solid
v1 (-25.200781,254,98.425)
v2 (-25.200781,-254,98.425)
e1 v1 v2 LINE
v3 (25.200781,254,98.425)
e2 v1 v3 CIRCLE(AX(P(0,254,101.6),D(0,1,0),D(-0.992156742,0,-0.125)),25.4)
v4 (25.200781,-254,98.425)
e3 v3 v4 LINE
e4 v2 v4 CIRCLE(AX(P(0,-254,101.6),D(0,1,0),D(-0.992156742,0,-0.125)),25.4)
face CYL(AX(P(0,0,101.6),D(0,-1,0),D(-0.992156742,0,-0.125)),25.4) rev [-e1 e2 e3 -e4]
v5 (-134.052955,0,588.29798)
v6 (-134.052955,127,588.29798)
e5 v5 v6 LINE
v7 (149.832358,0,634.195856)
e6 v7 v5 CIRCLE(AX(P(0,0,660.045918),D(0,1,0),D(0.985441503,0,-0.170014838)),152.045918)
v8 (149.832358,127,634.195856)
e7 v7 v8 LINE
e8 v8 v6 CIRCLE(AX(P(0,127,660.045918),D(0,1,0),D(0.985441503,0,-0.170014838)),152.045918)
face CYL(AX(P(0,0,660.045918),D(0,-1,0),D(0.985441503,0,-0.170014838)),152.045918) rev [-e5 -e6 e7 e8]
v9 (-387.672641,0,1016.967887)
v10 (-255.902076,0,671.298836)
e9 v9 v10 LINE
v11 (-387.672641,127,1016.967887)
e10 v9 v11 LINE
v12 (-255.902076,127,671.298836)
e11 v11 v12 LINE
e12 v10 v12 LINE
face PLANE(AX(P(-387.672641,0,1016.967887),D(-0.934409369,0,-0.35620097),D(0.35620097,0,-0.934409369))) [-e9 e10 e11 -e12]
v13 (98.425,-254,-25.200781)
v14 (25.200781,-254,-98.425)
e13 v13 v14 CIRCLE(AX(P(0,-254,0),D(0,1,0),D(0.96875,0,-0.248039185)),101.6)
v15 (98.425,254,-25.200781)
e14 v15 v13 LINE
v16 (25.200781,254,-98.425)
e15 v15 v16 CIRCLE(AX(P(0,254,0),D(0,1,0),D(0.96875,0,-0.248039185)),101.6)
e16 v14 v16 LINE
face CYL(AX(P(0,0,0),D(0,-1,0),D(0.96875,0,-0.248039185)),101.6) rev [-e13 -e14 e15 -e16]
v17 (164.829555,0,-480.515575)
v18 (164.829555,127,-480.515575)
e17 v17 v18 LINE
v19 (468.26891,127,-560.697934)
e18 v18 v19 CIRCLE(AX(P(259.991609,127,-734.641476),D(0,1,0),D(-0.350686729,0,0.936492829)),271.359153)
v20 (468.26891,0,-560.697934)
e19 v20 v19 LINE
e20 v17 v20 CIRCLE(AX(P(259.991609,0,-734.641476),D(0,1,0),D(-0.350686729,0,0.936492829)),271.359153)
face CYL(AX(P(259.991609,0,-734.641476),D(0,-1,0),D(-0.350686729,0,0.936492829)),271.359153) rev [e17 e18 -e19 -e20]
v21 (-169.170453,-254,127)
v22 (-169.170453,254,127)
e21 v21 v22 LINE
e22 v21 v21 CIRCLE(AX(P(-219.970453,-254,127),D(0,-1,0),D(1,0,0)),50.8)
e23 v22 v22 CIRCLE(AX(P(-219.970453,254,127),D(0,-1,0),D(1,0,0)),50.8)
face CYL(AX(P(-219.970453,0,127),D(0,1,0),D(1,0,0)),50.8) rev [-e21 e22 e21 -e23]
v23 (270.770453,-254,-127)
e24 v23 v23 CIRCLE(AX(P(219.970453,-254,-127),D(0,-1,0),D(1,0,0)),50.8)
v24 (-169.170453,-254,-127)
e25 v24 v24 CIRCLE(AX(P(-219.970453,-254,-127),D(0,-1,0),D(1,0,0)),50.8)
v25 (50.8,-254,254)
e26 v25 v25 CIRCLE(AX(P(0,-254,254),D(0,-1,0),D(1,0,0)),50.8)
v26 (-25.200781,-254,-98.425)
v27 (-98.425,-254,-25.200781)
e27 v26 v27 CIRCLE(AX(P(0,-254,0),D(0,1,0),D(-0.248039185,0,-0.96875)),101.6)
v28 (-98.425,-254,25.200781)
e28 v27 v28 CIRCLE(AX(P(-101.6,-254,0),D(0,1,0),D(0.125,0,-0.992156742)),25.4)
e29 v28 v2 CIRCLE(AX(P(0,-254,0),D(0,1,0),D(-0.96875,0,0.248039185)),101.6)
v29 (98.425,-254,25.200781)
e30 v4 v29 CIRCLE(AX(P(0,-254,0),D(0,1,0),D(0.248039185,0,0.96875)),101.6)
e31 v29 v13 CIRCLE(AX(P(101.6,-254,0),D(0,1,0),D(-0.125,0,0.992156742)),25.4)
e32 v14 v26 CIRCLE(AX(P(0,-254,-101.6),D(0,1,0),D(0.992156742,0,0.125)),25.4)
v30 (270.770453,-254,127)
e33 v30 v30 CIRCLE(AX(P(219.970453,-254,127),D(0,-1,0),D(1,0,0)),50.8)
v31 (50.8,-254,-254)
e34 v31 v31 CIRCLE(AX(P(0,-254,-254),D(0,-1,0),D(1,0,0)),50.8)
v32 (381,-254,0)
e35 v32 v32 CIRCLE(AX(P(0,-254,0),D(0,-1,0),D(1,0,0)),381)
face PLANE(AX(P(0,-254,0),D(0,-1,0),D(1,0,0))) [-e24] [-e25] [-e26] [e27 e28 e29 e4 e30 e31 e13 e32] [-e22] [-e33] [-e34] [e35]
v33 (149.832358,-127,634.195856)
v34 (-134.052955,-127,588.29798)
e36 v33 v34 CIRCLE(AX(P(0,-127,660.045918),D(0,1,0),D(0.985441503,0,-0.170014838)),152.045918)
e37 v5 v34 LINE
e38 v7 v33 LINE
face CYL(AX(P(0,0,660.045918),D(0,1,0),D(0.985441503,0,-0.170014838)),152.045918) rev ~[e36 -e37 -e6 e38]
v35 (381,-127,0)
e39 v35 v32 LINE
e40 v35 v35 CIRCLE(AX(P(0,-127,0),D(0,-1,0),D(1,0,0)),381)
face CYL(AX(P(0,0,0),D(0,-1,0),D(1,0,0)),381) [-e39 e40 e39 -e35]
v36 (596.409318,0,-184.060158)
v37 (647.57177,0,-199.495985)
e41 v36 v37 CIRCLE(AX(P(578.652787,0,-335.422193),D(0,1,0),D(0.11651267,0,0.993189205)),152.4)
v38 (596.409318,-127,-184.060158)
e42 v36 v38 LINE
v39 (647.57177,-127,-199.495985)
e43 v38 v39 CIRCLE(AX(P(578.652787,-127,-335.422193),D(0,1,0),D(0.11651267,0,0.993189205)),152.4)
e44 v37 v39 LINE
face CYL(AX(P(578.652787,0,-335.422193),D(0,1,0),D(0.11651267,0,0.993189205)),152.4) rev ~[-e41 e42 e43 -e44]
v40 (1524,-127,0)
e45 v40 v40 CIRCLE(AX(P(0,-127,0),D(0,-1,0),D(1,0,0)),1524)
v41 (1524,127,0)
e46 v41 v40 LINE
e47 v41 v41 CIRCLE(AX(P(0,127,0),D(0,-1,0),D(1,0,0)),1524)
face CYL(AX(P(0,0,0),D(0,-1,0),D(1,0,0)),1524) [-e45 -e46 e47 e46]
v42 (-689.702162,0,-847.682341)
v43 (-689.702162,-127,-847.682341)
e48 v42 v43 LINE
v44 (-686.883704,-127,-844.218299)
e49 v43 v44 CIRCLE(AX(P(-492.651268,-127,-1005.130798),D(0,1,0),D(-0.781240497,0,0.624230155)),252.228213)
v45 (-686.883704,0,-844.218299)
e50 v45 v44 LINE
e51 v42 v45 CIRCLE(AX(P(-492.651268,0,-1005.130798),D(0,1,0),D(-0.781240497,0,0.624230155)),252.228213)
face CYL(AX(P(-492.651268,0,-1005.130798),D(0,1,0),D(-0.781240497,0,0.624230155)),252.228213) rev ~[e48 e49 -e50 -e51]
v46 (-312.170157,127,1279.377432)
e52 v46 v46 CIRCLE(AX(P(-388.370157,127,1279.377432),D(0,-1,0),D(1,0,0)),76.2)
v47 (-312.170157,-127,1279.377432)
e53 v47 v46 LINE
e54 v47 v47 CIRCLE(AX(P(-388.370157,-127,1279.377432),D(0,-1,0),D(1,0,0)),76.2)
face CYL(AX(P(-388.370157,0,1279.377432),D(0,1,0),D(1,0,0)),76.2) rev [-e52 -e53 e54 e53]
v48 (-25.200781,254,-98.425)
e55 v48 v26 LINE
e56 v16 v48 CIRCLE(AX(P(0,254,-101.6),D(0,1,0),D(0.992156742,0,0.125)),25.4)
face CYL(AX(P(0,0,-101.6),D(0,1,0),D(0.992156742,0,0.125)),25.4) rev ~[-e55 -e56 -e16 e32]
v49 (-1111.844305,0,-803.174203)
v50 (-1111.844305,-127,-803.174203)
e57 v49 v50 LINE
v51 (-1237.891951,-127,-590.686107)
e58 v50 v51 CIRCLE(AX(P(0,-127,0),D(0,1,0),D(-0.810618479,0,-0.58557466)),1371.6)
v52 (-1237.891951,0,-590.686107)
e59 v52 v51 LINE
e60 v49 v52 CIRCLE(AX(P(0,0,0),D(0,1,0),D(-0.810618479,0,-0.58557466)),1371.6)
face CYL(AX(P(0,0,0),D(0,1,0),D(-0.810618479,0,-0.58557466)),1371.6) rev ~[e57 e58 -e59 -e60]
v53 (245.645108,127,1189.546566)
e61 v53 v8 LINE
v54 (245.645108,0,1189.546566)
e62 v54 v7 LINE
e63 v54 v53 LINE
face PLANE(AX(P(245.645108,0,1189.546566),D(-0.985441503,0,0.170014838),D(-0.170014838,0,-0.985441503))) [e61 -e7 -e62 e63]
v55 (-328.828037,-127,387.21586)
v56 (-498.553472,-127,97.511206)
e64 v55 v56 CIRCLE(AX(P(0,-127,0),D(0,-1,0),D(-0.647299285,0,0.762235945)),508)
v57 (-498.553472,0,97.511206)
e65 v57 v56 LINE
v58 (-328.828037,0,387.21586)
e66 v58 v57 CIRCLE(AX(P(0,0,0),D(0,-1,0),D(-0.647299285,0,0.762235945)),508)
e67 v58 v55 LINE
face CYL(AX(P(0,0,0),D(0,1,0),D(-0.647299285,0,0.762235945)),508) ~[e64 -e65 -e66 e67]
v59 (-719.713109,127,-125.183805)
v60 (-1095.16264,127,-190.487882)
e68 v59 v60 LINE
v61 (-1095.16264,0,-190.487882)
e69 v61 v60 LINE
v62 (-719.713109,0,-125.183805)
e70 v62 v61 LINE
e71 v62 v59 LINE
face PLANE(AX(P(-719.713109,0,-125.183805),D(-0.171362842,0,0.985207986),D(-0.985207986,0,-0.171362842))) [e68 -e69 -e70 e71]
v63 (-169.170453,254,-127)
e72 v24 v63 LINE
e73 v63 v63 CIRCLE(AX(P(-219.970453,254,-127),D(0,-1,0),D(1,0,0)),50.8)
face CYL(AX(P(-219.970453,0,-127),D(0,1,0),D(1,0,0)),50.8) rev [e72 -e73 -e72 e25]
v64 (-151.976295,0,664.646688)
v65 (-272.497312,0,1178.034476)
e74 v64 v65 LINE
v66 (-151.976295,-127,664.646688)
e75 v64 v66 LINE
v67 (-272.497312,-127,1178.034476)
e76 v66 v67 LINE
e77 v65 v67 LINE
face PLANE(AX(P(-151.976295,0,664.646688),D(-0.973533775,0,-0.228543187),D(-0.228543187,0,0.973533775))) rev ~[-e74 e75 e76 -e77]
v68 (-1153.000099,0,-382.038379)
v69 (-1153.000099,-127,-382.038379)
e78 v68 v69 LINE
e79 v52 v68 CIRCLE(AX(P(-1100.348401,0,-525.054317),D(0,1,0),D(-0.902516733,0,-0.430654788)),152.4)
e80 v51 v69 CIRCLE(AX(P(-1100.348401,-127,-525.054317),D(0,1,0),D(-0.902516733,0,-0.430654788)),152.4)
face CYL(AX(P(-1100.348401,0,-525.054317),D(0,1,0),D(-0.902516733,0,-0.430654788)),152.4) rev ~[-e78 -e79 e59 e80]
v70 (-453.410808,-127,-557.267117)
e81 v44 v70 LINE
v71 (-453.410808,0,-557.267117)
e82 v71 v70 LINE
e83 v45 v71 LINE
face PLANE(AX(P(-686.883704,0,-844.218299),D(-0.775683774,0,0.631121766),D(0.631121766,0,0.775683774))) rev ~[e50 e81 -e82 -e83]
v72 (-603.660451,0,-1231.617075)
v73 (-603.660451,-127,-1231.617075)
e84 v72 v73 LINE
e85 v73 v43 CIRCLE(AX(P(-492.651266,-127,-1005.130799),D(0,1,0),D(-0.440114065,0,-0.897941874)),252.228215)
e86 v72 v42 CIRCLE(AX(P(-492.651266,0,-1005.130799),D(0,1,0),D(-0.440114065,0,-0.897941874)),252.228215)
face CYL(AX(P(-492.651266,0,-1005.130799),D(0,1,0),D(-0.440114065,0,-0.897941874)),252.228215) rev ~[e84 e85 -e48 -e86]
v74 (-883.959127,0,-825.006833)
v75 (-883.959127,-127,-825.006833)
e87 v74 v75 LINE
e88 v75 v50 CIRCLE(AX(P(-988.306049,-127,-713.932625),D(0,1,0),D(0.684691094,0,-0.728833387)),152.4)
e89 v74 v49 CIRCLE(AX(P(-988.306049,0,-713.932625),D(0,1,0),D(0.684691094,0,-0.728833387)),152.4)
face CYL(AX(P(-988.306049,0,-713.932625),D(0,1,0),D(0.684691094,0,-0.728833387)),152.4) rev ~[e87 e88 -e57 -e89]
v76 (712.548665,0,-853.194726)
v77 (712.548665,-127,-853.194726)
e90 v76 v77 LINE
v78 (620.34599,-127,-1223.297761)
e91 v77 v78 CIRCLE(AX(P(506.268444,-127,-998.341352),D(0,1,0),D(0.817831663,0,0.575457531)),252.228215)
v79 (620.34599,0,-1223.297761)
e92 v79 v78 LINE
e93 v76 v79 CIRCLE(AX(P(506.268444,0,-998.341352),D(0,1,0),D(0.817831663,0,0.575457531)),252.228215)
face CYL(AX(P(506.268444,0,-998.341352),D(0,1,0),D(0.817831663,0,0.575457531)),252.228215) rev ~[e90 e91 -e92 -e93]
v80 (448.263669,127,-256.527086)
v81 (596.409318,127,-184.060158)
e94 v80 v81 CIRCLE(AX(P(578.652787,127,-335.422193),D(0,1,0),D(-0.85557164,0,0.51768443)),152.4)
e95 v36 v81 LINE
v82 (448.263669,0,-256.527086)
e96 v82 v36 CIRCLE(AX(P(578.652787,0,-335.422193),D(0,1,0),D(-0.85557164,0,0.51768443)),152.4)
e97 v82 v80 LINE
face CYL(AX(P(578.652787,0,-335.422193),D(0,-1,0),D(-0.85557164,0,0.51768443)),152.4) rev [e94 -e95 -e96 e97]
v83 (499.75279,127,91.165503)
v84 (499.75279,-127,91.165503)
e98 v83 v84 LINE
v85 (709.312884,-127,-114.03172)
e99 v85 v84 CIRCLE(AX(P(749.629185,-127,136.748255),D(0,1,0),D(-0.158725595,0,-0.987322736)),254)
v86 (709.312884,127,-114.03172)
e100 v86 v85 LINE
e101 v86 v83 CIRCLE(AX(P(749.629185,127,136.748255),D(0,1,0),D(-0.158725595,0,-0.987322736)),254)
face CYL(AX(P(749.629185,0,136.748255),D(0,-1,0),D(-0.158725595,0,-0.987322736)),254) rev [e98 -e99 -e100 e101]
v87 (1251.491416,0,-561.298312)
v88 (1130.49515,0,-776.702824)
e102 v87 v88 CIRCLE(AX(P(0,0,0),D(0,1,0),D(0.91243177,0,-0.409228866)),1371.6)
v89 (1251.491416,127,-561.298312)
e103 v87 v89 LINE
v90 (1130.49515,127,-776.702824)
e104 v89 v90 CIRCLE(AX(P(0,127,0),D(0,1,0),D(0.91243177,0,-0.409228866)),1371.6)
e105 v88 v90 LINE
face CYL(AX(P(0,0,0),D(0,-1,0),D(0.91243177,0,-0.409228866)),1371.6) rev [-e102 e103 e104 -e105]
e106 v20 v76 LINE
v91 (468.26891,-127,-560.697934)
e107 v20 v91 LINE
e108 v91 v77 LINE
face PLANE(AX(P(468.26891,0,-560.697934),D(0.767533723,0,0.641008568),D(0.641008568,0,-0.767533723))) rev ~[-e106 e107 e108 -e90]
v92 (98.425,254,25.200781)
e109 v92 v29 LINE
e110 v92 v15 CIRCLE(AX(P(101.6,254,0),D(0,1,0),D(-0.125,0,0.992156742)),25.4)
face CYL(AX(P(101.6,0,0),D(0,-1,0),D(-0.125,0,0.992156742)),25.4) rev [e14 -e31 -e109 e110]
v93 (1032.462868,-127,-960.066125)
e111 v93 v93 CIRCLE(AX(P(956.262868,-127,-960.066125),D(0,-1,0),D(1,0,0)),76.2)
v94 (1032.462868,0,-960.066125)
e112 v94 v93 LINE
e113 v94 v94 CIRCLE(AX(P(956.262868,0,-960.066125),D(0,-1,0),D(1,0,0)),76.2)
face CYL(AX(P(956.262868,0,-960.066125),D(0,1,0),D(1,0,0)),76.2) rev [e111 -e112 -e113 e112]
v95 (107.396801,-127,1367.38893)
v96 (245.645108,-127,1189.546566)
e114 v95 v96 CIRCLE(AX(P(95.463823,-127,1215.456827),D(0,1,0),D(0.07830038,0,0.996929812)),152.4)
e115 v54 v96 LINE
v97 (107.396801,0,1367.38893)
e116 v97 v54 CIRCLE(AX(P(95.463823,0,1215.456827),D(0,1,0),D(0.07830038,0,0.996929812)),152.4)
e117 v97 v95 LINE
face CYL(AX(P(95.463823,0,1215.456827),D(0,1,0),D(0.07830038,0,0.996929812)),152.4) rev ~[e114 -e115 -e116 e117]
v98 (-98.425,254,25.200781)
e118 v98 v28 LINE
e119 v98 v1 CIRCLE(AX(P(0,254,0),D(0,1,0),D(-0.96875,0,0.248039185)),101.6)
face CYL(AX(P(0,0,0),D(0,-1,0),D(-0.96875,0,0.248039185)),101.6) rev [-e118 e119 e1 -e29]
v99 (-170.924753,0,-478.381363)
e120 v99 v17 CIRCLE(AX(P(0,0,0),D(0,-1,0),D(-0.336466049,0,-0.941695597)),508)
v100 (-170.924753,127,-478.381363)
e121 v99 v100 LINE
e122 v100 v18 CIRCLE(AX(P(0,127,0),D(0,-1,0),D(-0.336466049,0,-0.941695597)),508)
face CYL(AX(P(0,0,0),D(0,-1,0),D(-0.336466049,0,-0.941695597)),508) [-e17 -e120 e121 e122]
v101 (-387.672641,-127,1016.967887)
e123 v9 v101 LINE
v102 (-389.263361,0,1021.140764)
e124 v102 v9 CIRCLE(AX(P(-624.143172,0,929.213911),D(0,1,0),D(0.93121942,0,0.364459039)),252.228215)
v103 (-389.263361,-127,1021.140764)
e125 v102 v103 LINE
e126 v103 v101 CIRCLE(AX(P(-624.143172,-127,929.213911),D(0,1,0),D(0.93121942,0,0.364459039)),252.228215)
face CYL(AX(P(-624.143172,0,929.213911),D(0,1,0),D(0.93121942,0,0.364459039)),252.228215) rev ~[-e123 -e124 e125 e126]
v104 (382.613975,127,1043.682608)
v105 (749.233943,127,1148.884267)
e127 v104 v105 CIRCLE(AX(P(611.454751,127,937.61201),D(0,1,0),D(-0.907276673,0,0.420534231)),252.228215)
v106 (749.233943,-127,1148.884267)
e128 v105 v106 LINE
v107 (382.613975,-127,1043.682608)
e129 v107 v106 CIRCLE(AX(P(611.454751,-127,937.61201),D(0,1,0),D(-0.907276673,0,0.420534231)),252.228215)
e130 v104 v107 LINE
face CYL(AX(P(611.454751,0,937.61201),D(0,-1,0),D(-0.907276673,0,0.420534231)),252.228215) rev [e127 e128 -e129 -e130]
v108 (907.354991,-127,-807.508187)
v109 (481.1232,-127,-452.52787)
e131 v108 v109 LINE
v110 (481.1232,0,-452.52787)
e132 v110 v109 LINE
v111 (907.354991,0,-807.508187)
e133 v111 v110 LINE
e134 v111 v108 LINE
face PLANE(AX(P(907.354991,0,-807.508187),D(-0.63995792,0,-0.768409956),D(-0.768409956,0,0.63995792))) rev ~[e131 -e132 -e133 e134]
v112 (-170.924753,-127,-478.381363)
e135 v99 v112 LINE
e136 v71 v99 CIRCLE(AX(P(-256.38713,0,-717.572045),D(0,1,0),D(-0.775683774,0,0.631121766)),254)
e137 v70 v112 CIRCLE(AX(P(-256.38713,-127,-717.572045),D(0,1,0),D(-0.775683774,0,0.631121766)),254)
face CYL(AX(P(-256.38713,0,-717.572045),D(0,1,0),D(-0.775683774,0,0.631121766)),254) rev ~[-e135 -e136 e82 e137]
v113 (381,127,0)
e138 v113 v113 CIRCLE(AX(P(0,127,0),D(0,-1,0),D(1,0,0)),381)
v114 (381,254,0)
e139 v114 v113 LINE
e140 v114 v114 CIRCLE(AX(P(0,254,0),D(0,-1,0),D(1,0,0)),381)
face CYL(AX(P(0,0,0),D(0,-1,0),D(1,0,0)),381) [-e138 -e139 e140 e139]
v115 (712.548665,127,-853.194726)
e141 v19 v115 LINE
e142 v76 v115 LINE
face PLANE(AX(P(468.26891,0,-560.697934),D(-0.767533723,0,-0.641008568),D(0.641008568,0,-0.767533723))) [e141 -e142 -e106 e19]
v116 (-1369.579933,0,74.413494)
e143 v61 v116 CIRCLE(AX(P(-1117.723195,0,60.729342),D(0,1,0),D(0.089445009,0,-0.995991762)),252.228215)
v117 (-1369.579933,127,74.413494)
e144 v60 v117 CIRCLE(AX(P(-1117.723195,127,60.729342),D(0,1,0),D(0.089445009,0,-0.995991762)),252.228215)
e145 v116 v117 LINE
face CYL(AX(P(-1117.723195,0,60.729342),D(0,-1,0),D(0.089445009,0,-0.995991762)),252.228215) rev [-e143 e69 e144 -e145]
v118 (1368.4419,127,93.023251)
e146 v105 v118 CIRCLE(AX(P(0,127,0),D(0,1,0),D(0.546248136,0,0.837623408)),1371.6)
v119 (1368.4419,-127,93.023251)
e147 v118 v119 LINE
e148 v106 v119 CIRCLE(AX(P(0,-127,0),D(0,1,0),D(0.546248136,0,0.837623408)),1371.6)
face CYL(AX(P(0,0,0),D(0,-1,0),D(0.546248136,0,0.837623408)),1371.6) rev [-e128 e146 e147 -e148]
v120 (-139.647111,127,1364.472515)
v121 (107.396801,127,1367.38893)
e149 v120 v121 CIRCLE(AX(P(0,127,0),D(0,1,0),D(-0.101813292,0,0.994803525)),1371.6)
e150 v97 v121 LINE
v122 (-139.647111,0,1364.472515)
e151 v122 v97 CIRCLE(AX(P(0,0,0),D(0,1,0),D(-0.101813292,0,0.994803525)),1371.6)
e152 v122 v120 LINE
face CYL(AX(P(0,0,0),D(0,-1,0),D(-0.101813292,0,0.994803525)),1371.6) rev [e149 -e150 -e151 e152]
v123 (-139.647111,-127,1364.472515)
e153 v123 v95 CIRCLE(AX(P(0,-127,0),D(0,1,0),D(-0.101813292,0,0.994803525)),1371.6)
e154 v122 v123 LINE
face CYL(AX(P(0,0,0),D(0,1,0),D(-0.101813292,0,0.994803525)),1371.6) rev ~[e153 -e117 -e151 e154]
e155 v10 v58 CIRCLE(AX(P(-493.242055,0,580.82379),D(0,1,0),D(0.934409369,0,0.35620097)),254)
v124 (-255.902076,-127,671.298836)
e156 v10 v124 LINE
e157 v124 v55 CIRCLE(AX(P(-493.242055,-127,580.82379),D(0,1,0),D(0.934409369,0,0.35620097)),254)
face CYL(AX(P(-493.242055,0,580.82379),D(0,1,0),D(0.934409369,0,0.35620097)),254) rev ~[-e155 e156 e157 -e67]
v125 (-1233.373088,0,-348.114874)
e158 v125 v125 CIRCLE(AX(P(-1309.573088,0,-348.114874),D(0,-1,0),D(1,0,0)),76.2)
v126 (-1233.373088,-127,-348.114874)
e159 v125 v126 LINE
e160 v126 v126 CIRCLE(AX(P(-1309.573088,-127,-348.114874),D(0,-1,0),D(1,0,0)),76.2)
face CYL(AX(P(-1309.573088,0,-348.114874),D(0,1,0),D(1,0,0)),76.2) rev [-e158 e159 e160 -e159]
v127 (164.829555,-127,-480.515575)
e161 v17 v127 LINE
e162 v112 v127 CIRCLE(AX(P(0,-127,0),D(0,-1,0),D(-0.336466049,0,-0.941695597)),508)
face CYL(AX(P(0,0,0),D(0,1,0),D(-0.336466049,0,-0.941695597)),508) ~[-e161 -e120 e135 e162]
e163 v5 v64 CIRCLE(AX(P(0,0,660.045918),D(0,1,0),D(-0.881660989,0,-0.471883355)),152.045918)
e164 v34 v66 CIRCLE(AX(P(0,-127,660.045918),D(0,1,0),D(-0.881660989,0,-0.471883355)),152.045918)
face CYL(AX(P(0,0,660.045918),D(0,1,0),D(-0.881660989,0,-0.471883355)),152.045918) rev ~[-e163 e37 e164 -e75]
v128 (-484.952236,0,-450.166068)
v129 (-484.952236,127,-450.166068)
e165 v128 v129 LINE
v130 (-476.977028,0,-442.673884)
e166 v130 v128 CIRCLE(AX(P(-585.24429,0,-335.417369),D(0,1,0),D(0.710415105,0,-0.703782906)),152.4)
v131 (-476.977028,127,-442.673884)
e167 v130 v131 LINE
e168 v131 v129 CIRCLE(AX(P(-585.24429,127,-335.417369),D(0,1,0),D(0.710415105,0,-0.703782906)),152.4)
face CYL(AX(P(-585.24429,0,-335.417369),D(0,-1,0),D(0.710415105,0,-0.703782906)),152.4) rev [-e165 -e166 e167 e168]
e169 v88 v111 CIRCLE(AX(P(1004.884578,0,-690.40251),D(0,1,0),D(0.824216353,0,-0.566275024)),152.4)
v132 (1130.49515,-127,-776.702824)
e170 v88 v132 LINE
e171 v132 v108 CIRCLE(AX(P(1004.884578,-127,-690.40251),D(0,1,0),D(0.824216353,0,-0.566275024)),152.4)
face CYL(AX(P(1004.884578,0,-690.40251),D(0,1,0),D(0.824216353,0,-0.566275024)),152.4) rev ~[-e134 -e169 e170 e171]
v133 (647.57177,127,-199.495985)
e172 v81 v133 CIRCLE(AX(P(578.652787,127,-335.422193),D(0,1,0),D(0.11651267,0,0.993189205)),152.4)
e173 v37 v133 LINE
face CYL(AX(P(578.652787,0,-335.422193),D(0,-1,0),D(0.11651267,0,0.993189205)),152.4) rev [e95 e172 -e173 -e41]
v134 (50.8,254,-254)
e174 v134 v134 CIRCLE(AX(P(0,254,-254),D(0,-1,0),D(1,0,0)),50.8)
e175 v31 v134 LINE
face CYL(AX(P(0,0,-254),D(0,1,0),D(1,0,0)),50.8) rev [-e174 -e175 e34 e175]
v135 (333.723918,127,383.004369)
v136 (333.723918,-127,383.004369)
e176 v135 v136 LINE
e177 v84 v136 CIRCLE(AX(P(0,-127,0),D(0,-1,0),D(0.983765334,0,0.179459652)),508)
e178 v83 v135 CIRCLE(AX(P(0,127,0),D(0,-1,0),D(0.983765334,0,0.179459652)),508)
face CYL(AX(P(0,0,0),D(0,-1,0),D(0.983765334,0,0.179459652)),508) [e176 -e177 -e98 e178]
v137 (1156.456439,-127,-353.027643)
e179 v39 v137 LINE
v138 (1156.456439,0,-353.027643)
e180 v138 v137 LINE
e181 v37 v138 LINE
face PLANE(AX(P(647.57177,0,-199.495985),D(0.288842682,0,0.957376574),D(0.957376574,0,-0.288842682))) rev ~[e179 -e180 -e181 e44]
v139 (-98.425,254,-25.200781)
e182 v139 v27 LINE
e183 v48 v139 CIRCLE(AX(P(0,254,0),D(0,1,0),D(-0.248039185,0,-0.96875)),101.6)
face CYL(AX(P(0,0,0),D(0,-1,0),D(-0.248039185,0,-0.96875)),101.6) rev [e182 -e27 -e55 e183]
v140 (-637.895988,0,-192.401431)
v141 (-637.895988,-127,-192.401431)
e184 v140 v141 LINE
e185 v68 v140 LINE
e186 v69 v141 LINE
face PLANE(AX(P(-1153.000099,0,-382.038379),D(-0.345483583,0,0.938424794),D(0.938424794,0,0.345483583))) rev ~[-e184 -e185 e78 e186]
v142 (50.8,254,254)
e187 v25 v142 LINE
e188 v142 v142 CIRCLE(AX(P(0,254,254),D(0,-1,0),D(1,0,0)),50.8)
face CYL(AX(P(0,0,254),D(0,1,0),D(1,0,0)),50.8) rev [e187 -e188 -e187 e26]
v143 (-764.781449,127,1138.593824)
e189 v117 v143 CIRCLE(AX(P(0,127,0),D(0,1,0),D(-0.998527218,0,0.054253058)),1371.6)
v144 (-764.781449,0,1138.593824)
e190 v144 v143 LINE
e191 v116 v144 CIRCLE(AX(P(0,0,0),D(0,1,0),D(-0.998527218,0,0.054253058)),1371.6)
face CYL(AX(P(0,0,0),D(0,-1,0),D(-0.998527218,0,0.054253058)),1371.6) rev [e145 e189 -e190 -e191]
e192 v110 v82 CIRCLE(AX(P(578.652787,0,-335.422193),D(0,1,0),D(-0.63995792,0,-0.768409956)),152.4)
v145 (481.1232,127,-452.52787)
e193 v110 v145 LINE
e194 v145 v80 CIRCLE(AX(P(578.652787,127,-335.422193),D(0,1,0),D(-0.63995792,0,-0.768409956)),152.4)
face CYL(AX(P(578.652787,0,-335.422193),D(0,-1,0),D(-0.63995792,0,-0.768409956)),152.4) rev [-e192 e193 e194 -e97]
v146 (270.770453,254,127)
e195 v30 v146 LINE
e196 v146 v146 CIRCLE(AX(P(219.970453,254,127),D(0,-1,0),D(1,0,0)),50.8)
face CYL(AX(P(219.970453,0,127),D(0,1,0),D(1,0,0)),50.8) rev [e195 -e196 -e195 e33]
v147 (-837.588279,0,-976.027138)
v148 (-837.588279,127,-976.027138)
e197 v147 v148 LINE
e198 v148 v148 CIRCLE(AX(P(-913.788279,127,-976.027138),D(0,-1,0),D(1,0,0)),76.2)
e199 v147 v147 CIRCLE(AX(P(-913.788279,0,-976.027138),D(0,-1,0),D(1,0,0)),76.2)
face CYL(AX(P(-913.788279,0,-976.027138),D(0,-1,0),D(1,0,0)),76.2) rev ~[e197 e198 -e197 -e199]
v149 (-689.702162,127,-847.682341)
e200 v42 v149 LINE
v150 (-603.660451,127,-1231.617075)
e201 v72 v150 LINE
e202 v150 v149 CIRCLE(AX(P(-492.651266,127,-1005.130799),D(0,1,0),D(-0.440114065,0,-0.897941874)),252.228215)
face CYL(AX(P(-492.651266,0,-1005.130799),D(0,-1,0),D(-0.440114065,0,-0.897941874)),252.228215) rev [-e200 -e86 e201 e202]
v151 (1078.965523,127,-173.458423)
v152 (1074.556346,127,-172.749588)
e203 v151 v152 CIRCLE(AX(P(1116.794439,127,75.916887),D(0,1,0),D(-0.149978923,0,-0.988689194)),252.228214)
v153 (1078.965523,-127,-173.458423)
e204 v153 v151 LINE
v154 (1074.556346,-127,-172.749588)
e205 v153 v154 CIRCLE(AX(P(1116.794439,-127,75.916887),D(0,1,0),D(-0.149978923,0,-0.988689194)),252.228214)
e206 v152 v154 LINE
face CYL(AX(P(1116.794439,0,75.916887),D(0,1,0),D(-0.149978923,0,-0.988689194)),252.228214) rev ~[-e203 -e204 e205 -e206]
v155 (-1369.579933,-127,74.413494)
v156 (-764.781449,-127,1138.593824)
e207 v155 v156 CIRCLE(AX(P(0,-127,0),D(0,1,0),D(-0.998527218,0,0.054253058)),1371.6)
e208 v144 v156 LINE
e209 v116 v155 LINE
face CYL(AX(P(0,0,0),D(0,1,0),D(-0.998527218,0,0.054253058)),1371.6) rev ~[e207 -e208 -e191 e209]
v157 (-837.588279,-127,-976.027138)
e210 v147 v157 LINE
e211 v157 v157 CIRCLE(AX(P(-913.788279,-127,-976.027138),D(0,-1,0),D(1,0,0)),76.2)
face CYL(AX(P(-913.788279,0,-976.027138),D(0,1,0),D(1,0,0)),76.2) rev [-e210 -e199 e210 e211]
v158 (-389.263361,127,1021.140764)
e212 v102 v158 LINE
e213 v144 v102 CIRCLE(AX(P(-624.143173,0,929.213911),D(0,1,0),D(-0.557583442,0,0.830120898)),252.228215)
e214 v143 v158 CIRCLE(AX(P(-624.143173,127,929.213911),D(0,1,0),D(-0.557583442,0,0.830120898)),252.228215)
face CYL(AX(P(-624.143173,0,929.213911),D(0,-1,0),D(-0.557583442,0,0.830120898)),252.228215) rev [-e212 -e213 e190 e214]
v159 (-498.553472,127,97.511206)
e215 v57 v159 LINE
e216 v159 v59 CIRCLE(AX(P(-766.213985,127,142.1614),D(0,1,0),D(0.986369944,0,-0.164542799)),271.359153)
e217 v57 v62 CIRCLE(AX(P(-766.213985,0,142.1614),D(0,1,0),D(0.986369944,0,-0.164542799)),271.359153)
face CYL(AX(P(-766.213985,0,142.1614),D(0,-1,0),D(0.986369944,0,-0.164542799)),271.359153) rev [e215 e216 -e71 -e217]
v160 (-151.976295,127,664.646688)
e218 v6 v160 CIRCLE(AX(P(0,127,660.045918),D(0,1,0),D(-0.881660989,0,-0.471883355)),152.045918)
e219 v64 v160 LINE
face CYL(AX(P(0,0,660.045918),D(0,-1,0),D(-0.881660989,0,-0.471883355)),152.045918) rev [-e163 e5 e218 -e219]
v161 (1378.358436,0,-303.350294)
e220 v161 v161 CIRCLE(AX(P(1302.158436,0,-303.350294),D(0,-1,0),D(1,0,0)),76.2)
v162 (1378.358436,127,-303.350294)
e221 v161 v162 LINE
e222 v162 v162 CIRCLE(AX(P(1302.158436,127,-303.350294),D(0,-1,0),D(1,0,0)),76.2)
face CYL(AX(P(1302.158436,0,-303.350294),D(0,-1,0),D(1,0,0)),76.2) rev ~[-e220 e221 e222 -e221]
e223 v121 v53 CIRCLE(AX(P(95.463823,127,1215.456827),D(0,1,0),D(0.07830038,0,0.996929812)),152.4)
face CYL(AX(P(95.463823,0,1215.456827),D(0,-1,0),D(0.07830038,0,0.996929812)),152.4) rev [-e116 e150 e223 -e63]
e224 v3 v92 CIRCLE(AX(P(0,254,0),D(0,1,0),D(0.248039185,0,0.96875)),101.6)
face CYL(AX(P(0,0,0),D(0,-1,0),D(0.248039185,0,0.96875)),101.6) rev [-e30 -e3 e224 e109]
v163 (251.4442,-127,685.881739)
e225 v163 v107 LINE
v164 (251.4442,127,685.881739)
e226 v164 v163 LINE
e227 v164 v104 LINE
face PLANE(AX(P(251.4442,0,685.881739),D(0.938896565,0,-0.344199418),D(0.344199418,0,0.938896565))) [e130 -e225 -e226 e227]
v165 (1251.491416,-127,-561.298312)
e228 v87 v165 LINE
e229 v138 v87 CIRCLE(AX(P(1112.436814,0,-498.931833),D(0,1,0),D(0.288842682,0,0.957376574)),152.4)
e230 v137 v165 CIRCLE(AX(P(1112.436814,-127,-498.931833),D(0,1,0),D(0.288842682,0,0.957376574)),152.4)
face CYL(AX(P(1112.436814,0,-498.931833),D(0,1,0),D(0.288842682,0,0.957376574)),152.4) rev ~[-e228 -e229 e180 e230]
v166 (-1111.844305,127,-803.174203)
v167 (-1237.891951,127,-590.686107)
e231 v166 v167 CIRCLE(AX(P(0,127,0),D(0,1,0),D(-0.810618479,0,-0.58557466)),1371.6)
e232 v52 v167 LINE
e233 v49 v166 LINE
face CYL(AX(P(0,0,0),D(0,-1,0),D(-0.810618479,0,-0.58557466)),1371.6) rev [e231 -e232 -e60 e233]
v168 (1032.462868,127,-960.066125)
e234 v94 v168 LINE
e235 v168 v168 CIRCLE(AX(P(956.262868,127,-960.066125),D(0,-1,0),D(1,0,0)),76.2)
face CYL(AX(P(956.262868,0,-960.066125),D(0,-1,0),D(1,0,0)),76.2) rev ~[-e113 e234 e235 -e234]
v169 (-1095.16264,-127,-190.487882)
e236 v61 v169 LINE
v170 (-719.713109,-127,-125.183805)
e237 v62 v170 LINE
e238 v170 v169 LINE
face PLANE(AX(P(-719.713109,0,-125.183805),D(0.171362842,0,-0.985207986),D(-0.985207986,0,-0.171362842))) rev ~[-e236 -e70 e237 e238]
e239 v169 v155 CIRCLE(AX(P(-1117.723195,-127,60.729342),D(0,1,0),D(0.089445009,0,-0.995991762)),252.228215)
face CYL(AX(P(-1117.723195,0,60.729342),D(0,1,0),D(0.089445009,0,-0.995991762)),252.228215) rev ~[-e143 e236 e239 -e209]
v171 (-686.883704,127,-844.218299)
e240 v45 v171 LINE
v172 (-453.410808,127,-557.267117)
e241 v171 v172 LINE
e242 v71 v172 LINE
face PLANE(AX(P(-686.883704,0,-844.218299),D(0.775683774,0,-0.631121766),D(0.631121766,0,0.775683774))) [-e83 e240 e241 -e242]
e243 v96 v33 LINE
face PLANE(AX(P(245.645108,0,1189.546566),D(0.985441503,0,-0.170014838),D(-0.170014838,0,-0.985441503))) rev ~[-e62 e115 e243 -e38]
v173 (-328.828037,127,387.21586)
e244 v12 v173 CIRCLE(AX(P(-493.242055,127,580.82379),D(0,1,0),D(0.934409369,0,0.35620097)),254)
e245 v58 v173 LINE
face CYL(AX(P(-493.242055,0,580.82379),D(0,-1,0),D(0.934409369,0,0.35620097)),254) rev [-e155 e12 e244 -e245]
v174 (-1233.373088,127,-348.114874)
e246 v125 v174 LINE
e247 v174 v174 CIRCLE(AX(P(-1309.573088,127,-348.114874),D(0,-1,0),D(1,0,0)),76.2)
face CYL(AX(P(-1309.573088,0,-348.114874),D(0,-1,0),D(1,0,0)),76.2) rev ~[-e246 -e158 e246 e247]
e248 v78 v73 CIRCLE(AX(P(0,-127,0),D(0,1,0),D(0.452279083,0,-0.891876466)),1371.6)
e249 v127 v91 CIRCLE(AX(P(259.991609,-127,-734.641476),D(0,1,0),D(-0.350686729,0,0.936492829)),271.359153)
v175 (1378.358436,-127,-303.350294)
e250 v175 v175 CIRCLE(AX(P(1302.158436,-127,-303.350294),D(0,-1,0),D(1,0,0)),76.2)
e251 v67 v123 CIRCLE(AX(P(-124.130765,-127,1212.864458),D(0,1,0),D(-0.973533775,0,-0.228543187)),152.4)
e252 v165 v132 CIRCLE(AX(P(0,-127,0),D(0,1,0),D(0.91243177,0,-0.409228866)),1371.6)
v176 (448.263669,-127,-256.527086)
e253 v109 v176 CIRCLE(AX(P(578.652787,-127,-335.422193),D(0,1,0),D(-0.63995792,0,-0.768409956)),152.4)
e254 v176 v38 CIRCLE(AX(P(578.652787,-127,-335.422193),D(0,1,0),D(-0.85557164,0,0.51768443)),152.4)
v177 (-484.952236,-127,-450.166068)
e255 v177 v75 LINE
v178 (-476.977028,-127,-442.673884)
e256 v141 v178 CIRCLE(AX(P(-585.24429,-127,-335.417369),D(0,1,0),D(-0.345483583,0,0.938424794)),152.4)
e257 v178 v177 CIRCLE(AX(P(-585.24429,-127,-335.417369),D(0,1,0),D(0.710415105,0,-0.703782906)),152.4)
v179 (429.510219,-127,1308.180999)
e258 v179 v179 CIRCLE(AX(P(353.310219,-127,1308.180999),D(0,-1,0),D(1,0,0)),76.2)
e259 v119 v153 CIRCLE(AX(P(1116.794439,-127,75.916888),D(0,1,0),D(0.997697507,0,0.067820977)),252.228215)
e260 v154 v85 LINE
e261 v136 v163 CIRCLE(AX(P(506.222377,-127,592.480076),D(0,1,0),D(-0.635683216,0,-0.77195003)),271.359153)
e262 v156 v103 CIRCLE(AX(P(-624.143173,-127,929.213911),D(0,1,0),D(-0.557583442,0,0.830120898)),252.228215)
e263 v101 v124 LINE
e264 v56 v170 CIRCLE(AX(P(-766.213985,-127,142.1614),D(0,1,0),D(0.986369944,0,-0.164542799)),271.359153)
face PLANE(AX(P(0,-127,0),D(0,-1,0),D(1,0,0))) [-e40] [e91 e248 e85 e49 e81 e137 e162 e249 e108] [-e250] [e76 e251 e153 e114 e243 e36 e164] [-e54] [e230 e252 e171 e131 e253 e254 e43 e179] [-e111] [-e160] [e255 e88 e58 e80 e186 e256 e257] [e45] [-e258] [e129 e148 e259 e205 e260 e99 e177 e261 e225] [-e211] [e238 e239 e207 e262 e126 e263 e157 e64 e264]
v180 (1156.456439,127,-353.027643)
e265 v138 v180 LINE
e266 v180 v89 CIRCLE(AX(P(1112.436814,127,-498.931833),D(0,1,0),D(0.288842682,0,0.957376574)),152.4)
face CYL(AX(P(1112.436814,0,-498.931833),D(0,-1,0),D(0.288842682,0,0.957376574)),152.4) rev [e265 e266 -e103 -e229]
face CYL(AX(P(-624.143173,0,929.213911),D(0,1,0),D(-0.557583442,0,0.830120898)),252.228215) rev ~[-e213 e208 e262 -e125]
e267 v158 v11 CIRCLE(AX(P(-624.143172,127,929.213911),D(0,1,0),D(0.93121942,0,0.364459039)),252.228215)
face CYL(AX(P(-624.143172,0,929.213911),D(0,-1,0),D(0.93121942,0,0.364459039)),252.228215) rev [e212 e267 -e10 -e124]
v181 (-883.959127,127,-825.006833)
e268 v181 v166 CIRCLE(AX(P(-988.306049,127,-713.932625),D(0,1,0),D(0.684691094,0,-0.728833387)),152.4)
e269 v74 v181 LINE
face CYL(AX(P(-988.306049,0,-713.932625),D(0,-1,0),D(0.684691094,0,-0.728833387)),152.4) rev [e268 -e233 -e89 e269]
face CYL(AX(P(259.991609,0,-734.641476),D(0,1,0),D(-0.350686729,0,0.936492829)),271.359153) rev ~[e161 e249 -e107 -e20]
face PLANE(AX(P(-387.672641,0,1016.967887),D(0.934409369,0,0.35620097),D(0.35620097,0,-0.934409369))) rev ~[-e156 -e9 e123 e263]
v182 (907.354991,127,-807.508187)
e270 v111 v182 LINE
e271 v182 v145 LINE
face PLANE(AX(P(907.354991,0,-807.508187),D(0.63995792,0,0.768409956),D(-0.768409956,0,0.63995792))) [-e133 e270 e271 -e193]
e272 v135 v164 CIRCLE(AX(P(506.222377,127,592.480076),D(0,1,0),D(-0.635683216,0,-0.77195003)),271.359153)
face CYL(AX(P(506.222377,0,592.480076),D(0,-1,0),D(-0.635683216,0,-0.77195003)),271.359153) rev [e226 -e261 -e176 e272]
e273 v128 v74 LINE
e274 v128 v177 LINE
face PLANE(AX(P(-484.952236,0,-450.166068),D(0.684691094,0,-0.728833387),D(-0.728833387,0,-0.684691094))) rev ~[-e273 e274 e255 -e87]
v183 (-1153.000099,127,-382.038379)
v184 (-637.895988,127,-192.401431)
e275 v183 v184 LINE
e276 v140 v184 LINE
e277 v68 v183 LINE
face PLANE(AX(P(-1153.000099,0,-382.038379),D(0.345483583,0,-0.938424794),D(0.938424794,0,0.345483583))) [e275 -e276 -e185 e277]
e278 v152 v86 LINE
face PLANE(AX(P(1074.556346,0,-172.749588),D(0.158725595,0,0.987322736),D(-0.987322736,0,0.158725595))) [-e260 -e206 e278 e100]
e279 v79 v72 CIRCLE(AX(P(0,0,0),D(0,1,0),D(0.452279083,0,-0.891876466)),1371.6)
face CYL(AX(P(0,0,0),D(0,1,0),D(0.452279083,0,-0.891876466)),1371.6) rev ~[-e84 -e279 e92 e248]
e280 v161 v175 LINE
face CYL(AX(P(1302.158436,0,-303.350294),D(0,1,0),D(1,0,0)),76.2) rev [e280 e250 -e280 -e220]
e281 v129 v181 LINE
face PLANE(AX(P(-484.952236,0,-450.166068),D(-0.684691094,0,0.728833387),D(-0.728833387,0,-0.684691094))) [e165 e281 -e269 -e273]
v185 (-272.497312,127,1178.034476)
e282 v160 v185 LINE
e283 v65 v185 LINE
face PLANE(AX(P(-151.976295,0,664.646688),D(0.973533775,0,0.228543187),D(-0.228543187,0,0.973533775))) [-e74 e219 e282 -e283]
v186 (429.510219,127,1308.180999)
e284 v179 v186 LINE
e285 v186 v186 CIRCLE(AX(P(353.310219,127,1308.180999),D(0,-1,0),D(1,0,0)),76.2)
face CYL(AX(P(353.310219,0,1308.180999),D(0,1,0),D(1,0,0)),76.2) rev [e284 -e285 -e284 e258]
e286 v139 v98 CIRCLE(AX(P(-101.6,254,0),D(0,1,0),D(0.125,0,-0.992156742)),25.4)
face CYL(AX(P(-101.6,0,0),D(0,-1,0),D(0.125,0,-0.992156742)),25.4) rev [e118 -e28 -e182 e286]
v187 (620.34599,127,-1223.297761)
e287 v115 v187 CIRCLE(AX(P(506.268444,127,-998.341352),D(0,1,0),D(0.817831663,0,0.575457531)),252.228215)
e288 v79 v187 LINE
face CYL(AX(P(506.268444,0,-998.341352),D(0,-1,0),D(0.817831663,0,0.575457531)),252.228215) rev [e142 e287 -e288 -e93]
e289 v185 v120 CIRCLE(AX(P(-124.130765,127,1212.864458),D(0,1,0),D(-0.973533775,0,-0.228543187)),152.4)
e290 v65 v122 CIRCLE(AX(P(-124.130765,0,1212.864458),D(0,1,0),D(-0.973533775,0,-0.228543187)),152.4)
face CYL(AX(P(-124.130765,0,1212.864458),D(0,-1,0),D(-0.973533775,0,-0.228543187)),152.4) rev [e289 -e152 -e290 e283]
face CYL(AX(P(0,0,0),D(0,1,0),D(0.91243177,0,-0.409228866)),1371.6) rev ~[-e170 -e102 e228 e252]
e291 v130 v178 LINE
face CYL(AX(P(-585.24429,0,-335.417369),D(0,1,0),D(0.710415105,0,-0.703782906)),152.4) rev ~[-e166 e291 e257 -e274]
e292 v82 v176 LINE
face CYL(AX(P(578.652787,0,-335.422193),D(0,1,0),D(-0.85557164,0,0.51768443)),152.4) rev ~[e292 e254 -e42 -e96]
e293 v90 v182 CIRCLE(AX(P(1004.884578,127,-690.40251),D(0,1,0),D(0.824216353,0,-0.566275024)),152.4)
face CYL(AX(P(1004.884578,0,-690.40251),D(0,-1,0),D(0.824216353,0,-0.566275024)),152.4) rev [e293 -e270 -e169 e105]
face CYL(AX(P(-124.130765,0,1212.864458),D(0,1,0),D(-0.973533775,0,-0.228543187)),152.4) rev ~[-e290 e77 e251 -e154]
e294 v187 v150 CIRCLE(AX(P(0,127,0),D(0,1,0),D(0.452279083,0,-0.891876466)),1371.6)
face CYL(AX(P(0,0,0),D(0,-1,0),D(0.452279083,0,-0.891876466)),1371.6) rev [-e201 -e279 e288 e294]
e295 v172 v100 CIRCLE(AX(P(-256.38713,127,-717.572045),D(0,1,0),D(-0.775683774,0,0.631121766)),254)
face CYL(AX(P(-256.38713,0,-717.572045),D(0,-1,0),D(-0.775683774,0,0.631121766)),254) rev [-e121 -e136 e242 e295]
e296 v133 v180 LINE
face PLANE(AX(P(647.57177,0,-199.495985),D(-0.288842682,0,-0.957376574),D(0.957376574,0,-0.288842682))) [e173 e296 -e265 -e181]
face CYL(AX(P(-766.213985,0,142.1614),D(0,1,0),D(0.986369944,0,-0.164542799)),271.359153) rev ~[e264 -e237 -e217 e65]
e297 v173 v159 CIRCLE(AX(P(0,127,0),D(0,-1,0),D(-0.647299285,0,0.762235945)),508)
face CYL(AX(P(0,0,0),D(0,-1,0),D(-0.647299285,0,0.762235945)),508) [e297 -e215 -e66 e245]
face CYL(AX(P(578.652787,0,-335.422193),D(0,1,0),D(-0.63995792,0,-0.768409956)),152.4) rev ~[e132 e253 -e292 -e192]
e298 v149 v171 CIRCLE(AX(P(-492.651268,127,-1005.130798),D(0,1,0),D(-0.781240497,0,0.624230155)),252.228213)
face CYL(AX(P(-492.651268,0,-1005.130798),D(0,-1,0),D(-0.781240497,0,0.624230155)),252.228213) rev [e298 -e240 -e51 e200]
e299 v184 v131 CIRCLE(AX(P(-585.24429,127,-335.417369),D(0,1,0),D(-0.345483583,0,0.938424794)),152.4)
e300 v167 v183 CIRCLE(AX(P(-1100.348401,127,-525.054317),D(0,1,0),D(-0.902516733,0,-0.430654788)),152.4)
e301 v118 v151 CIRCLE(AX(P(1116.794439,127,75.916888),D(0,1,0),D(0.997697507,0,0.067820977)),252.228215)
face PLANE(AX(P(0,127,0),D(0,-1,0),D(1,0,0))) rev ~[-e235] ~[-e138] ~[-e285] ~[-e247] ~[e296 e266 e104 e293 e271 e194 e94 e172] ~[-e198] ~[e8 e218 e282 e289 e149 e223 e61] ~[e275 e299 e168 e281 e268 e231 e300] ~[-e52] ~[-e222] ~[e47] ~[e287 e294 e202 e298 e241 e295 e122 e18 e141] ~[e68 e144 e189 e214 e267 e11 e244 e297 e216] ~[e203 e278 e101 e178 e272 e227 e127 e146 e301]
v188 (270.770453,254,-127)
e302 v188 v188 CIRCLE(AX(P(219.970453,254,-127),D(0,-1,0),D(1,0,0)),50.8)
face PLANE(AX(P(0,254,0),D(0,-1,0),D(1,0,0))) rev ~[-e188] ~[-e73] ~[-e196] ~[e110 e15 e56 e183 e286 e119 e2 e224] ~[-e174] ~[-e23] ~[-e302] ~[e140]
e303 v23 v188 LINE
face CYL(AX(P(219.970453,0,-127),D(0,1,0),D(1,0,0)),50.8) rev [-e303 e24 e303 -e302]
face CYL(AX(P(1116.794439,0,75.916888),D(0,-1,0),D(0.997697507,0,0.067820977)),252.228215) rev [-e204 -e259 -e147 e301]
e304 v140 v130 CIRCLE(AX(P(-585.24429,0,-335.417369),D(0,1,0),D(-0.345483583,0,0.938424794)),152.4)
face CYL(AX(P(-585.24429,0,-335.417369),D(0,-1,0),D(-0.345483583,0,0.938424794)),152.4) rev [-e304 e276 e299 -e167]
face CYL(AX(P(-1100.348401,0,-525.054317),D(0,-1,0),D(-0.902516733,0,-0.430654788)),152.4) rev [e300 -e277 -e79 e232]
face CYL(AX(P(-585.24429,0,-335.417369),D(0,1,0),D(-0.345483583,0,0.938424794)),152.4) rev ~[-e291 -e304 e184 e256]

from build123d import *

# Parameters (mm, degrees)
F0_R     = 1524
F0_R_2   = 76.2
F0_R_3   = 381
F1_DEPTH = 127
F0_R_4   = 50.8
F2_DEPTH = 254


with BuildPart() as f1:
    # F0 (on Front) → F1 (new body, symmetric)
    with BuildSketch(Plane.XZ):
        Circle(F0_R)
        with Locations((-913.7882791616, -976.0271380313)):
            Circle(F0_R_2, mode=Mode.SUBTRACT)
        with BuildLine():
            Line((-1153.0000991885, -382.0383786569), (-637.8959878509, -192.4014305637))
            ThreePointArc((-637.8959878509, -192.4014305637), (-457.0555696443, -252.9952118294), (-476.9770278298, -442.6738840331))
            ThreePointArc((-476.9770278298, -442.6738840331), (-480.8973671556, -446.4915773818), (-484.9522358945, -450.1660681551))
            Line((-484.9522358945, -450.1660681551), (-883.9591266607, -825.0068330969))
            ThreePointArc((-883.9591266607, -825.0068330969), (-1002.8402419306, -865.6379881525), (-1111.8443054894, -803.1742029914))
            ThreePointArc((-1111.8443054894, -803.1742029914), (-1179.6622045577, -699.7739943281), (-1237.8919513009, -590.6861069167))
            ThreePointArc((-1237.8919513009, -590.6861069167), (-1241.5115221698, -467.6197173586), (-1153.0000991885, -382.0383786569))
        make_face(mode=Mode.SUBTRACT)
        with Locations((-1309.5730875171, -348.1148742014)):
            Circle(F0_R_2, mode=Mode.SUBTRACT)
        with BuildLine():
            ThreePointArc((620.3459899279, -1223.2977612913), (9.3222607446, -1371.5683196453), (-603.6604512768, -1231.6170750539))
            ThreePointArc((-603.6604512768, -1231.6170750539), (-738.7746568168, -1060.2882924915), (-689.7021623495, -847.6823411172))
            ThreePointArc((-689.7021623495, -847.6823411172), (-688.3005999681, -845.9440823447), (-686.8837042593, -844.2182992703))
            Line((-686.8837042593, -844.2182992703), (-453.4108080554, -557.2671165057))
            ThreePointArc((-453.4108080554, -557.2671165057), (-324.704195778, -472.9319451606), (-170.9247530325, -478.3813633502))
            ThreePointArc((-170.9247530325, -478.3813633502), (-3.2290207935, -507.9897375191), (164.8295547947, -480.5155750506))
            ThreePointArc((164.8295547947, -480.5155750506), (329.3174151887, -472.2872831018), (468.2689097092, -560.6979339074))
            Line((468.2689097092, -560.6979339074), (712.5486648746, -853.1947261923))
            ThreePointArc((712.5486648746, -853.1947261923), (751.0159442205, -1059.3145732279), (620.3459899279, -1223.2977612913))
        make_face(mode=Mode.SUBTRACT)
        with Locations((956.2628682522, -960.0661248015)):
            Circle(F0_R_2, mode=Mode.SUBTRACT)
        with BuildLine():
            ThreePointArc((1251.4914161996, -561.2983121112), (1195.8531582748, -671.7304398673), (1130.4951499029, -776.7028235085))
            ThreePointArc((1130.4951499029, -776.7028235085), (1025.7263156279, -841.3706586108), (907.3549907317, -807.5081871347))
            Line((907.3549907317, -807.5081871347), (481.1232000729, -452.5278699292))
            ThreePointArc((481.1232000729, -452.5278699292), (428.3503888965, -360.6203892324), (448.26366908, -256.5270855102))
            ThreePointArc((448.26366908, -256.5270855102), (511.6872076627, -198.5230648264), (596.4093179928, -184.0601576825))
            ThreePointArc((596.4093179928, -184.0601576825), (622.672411721, -189.518002639), (647.5717696697, -199.495985275))
            Line((647.5717696697, -199.495985275), (1156.456439088, -353.0276430469))
            ThreePointArc((1156.456439088, -353.0276430469), (1251.0846091862, -435.666131373), (1251.4914161996, -561.2983121112))
        make_face(mode=Mode.SUBTRACT)
        with Locations((1302.1584358989, -303.3502944188)):
            Circle(F0_R_2, mode=Mode.SUBTRACT)
        with BuildLine():
            ThreePointArc((-1095.1626396947, -190.487882118), (-1292.9013031247, -120.7415997281), (-1369.5799326349, 74.4134942323))
            ThreePointArc((-1369.5799326349, 74.4134942323), (-1192.474138211, 677.7108451972), (-764.781449093, 1138.5938235926))
            ThreePointArc((-764.781449093, 1138.5938235926), (-548.8492682245, 1169.9417667212), (-389.2633605722, 1021.1407641984))
            ThreePointArc((-389.2633605722, 1021.1407641984), (-388.4587655076, 1019.0578461848), (-387.6726413781, 1016.9678869693))
            Line((-387.6726413781, 1016.9678869693), (-255.9020755599, 671.2988363793))
            ThreePointArc((-255.9020755599, 671.2988363793), (-247.2189808812, 517.6680548394), (-328.8280368421, 387.2158599368))
            ThreePointArc((-328.8280368421, 387.2158599368), (-438.3175071566, 256.7912827961), (-498.5534723052, 97.5112057786))
            ThreePointArc((-498.5534723052, 97.5112057786), (-573.6714926448, -49.0536059111), (-719.7131094679, -125.1838046569))
            Line((-719.7131094679, -125.1838046569), (-1095.1626396947, -190.487882118))
        make_face(mode=Mode.SUBTRACT)
        with BuildLine():
            Line((245.6451084567, 1189.5465657916), (149.8323580408, 634.1958560646))
            ThreePointArc((149.8323580408, 634.1958560646), (24.267285494, 509.9490824711), (-134.0529545691, 588.2979802197))
            ThreePointArc((-134.0529545691, 588.2979802197), (-148.0218367106, 625.2968594187), (-151.9762946798, 664.6466877847))
            Line((-151.9762946798, 664.6466877847), (-272.4973124273, 1178.0344761437))
            ThreePointArc((-272.4973124273, 1178.0344761437), (-248.2443672556, 1301.3041195255), (-139.6471107102, 1364.4725151026))
            ThreePointArc((-139.6471107102, 1364.4725151026), (-16.190953717, 1371.5044341954), (107.396801398, 1367.3889304252))
            ThreePointArc((107.396801398, 1367.3889304252), (215.7852065418, 1308.9903759694), (245.6451084567, 1189.5465657916))
        make_face(mode=Mode.SUBTRACT)
        with Locations((-388.3701567373, 1279.3774324501)):
            Circle(F0_R_2, mode=Mode.SUBTRACT)
        Circle(F0_R_3, mode=Mode.SUBTRACT)
        with BuildLine():
            ThreePointArc((382.6139748201, 1043.6826083102), (541.8853589042, 1180.056172956), (749.233942707, 1148.884267059))
            ThreePointArc((749.233942707, 1148.884267059), (1183.1518774665, 693.8574744481), (1368.4419003697, 93.0232514613))
            ThreePointArc((1368.4419003697, 93.0232514613), (1287.6239250413, -109.6534742297), (1078.9655229217, -173.4584230812))
            ThreePointArc((1078.9655229217, -173.4584230812), (1076.7593654757, -173.1137638401), (1074.5563456375, -172.749587699))
            Line((1074.5563456375, -172.749587699), (709.3128836153, -114.0317198736))
            ThreePointArc((709.3128836153, -114.0317198736), (571.9231766592, -44.7361096789), (499.7527898745, 91.1655034134))
            ThreePointArc((499.7527898745, 91.1655034134), (441.5465279501, 251.198454723), (333.7239175105, 383.004369272))
            ThreePointArc((333.7239175105, 383.004369272), (244.3540774561, 521.3408890129), (251.4441997587, 685.8817385643))
            Line((251.4441997587, 685.8817385643), (382.6139748201, 1043.6826083102))
        make_face(mode=Mode.SUBTRACT)
        with Locations((353.3102192649, 1308.180999003)):
            Circle(F0_R_2, mode=Mode.SUBTRACT)
    extrude(amount=F1_DEPTH, both=True)

    # F0 (on Front) → F2 (join, symmetric)
    with BuildSketch(Plane.XZ):
        Circle(F0_R_3)
        with Locations((-219.9704525612, -127)):
            Circle(F0_R_4, mode=Mode.SUBTRACT)
        with Locations((0, -254)):
            Circle(F0_R_4, mode=Mode.SUBTRACT)
        with Locations((219.9704525612, -127)):
            Circle(F0_R_4, mode=Mode.SUBTRACT)
        with Locations((-219.9704525612, 127)):
            Circle(F0_R_4, mode=Mode.SUBTRACT)
        with BuildLine():
            ThreePointArc((25.2007812379, 98.425), (71.8420489686, 71.8420489686), (98.425, 25.2007812379))
            ThreePointArc((98.425, 25.2007812379), (127, 0), (98.425, -25.2007812379))
            ThreePointArc((98.425, -25.2007812379), (71.8420489686, -71.8420489686), (25.2007812379, -98.425))
            ThreePointArc((25.2007812379, -98.425), (0, -127), (-25.2007812379, -98.425))
            ThreePointArc((-25.2007812379, -98.425), (-71.8420489686, -71.8420489686), (-98.425, -25.2007812379))
            ThreePointArc((-98.425, -25.2007812379), (-127, 0), (-98.425, 25.2007812379))
            ThreePointArc((-98.425, 25.2007812379), (-71.8420489686, 71.8420489686), (-25.2007812379, 98.425))
            ThreePointArc((-25.2007812379, 98.425), (0, 127), (25.2007812379, 98.425))
        make_face(mode=Mode.SUBTRACT)
        with Locations((219.9704525612, 127)):
            Circle(F0_R_4, mode=Mode.SUBTRACT)
        with Locations((0, 254)):
            Circle(F0_R_4, mode=Mode.SUBTRACT)
    extrude(amount=F2_DEPTH, both=True)


solid = f1.part
